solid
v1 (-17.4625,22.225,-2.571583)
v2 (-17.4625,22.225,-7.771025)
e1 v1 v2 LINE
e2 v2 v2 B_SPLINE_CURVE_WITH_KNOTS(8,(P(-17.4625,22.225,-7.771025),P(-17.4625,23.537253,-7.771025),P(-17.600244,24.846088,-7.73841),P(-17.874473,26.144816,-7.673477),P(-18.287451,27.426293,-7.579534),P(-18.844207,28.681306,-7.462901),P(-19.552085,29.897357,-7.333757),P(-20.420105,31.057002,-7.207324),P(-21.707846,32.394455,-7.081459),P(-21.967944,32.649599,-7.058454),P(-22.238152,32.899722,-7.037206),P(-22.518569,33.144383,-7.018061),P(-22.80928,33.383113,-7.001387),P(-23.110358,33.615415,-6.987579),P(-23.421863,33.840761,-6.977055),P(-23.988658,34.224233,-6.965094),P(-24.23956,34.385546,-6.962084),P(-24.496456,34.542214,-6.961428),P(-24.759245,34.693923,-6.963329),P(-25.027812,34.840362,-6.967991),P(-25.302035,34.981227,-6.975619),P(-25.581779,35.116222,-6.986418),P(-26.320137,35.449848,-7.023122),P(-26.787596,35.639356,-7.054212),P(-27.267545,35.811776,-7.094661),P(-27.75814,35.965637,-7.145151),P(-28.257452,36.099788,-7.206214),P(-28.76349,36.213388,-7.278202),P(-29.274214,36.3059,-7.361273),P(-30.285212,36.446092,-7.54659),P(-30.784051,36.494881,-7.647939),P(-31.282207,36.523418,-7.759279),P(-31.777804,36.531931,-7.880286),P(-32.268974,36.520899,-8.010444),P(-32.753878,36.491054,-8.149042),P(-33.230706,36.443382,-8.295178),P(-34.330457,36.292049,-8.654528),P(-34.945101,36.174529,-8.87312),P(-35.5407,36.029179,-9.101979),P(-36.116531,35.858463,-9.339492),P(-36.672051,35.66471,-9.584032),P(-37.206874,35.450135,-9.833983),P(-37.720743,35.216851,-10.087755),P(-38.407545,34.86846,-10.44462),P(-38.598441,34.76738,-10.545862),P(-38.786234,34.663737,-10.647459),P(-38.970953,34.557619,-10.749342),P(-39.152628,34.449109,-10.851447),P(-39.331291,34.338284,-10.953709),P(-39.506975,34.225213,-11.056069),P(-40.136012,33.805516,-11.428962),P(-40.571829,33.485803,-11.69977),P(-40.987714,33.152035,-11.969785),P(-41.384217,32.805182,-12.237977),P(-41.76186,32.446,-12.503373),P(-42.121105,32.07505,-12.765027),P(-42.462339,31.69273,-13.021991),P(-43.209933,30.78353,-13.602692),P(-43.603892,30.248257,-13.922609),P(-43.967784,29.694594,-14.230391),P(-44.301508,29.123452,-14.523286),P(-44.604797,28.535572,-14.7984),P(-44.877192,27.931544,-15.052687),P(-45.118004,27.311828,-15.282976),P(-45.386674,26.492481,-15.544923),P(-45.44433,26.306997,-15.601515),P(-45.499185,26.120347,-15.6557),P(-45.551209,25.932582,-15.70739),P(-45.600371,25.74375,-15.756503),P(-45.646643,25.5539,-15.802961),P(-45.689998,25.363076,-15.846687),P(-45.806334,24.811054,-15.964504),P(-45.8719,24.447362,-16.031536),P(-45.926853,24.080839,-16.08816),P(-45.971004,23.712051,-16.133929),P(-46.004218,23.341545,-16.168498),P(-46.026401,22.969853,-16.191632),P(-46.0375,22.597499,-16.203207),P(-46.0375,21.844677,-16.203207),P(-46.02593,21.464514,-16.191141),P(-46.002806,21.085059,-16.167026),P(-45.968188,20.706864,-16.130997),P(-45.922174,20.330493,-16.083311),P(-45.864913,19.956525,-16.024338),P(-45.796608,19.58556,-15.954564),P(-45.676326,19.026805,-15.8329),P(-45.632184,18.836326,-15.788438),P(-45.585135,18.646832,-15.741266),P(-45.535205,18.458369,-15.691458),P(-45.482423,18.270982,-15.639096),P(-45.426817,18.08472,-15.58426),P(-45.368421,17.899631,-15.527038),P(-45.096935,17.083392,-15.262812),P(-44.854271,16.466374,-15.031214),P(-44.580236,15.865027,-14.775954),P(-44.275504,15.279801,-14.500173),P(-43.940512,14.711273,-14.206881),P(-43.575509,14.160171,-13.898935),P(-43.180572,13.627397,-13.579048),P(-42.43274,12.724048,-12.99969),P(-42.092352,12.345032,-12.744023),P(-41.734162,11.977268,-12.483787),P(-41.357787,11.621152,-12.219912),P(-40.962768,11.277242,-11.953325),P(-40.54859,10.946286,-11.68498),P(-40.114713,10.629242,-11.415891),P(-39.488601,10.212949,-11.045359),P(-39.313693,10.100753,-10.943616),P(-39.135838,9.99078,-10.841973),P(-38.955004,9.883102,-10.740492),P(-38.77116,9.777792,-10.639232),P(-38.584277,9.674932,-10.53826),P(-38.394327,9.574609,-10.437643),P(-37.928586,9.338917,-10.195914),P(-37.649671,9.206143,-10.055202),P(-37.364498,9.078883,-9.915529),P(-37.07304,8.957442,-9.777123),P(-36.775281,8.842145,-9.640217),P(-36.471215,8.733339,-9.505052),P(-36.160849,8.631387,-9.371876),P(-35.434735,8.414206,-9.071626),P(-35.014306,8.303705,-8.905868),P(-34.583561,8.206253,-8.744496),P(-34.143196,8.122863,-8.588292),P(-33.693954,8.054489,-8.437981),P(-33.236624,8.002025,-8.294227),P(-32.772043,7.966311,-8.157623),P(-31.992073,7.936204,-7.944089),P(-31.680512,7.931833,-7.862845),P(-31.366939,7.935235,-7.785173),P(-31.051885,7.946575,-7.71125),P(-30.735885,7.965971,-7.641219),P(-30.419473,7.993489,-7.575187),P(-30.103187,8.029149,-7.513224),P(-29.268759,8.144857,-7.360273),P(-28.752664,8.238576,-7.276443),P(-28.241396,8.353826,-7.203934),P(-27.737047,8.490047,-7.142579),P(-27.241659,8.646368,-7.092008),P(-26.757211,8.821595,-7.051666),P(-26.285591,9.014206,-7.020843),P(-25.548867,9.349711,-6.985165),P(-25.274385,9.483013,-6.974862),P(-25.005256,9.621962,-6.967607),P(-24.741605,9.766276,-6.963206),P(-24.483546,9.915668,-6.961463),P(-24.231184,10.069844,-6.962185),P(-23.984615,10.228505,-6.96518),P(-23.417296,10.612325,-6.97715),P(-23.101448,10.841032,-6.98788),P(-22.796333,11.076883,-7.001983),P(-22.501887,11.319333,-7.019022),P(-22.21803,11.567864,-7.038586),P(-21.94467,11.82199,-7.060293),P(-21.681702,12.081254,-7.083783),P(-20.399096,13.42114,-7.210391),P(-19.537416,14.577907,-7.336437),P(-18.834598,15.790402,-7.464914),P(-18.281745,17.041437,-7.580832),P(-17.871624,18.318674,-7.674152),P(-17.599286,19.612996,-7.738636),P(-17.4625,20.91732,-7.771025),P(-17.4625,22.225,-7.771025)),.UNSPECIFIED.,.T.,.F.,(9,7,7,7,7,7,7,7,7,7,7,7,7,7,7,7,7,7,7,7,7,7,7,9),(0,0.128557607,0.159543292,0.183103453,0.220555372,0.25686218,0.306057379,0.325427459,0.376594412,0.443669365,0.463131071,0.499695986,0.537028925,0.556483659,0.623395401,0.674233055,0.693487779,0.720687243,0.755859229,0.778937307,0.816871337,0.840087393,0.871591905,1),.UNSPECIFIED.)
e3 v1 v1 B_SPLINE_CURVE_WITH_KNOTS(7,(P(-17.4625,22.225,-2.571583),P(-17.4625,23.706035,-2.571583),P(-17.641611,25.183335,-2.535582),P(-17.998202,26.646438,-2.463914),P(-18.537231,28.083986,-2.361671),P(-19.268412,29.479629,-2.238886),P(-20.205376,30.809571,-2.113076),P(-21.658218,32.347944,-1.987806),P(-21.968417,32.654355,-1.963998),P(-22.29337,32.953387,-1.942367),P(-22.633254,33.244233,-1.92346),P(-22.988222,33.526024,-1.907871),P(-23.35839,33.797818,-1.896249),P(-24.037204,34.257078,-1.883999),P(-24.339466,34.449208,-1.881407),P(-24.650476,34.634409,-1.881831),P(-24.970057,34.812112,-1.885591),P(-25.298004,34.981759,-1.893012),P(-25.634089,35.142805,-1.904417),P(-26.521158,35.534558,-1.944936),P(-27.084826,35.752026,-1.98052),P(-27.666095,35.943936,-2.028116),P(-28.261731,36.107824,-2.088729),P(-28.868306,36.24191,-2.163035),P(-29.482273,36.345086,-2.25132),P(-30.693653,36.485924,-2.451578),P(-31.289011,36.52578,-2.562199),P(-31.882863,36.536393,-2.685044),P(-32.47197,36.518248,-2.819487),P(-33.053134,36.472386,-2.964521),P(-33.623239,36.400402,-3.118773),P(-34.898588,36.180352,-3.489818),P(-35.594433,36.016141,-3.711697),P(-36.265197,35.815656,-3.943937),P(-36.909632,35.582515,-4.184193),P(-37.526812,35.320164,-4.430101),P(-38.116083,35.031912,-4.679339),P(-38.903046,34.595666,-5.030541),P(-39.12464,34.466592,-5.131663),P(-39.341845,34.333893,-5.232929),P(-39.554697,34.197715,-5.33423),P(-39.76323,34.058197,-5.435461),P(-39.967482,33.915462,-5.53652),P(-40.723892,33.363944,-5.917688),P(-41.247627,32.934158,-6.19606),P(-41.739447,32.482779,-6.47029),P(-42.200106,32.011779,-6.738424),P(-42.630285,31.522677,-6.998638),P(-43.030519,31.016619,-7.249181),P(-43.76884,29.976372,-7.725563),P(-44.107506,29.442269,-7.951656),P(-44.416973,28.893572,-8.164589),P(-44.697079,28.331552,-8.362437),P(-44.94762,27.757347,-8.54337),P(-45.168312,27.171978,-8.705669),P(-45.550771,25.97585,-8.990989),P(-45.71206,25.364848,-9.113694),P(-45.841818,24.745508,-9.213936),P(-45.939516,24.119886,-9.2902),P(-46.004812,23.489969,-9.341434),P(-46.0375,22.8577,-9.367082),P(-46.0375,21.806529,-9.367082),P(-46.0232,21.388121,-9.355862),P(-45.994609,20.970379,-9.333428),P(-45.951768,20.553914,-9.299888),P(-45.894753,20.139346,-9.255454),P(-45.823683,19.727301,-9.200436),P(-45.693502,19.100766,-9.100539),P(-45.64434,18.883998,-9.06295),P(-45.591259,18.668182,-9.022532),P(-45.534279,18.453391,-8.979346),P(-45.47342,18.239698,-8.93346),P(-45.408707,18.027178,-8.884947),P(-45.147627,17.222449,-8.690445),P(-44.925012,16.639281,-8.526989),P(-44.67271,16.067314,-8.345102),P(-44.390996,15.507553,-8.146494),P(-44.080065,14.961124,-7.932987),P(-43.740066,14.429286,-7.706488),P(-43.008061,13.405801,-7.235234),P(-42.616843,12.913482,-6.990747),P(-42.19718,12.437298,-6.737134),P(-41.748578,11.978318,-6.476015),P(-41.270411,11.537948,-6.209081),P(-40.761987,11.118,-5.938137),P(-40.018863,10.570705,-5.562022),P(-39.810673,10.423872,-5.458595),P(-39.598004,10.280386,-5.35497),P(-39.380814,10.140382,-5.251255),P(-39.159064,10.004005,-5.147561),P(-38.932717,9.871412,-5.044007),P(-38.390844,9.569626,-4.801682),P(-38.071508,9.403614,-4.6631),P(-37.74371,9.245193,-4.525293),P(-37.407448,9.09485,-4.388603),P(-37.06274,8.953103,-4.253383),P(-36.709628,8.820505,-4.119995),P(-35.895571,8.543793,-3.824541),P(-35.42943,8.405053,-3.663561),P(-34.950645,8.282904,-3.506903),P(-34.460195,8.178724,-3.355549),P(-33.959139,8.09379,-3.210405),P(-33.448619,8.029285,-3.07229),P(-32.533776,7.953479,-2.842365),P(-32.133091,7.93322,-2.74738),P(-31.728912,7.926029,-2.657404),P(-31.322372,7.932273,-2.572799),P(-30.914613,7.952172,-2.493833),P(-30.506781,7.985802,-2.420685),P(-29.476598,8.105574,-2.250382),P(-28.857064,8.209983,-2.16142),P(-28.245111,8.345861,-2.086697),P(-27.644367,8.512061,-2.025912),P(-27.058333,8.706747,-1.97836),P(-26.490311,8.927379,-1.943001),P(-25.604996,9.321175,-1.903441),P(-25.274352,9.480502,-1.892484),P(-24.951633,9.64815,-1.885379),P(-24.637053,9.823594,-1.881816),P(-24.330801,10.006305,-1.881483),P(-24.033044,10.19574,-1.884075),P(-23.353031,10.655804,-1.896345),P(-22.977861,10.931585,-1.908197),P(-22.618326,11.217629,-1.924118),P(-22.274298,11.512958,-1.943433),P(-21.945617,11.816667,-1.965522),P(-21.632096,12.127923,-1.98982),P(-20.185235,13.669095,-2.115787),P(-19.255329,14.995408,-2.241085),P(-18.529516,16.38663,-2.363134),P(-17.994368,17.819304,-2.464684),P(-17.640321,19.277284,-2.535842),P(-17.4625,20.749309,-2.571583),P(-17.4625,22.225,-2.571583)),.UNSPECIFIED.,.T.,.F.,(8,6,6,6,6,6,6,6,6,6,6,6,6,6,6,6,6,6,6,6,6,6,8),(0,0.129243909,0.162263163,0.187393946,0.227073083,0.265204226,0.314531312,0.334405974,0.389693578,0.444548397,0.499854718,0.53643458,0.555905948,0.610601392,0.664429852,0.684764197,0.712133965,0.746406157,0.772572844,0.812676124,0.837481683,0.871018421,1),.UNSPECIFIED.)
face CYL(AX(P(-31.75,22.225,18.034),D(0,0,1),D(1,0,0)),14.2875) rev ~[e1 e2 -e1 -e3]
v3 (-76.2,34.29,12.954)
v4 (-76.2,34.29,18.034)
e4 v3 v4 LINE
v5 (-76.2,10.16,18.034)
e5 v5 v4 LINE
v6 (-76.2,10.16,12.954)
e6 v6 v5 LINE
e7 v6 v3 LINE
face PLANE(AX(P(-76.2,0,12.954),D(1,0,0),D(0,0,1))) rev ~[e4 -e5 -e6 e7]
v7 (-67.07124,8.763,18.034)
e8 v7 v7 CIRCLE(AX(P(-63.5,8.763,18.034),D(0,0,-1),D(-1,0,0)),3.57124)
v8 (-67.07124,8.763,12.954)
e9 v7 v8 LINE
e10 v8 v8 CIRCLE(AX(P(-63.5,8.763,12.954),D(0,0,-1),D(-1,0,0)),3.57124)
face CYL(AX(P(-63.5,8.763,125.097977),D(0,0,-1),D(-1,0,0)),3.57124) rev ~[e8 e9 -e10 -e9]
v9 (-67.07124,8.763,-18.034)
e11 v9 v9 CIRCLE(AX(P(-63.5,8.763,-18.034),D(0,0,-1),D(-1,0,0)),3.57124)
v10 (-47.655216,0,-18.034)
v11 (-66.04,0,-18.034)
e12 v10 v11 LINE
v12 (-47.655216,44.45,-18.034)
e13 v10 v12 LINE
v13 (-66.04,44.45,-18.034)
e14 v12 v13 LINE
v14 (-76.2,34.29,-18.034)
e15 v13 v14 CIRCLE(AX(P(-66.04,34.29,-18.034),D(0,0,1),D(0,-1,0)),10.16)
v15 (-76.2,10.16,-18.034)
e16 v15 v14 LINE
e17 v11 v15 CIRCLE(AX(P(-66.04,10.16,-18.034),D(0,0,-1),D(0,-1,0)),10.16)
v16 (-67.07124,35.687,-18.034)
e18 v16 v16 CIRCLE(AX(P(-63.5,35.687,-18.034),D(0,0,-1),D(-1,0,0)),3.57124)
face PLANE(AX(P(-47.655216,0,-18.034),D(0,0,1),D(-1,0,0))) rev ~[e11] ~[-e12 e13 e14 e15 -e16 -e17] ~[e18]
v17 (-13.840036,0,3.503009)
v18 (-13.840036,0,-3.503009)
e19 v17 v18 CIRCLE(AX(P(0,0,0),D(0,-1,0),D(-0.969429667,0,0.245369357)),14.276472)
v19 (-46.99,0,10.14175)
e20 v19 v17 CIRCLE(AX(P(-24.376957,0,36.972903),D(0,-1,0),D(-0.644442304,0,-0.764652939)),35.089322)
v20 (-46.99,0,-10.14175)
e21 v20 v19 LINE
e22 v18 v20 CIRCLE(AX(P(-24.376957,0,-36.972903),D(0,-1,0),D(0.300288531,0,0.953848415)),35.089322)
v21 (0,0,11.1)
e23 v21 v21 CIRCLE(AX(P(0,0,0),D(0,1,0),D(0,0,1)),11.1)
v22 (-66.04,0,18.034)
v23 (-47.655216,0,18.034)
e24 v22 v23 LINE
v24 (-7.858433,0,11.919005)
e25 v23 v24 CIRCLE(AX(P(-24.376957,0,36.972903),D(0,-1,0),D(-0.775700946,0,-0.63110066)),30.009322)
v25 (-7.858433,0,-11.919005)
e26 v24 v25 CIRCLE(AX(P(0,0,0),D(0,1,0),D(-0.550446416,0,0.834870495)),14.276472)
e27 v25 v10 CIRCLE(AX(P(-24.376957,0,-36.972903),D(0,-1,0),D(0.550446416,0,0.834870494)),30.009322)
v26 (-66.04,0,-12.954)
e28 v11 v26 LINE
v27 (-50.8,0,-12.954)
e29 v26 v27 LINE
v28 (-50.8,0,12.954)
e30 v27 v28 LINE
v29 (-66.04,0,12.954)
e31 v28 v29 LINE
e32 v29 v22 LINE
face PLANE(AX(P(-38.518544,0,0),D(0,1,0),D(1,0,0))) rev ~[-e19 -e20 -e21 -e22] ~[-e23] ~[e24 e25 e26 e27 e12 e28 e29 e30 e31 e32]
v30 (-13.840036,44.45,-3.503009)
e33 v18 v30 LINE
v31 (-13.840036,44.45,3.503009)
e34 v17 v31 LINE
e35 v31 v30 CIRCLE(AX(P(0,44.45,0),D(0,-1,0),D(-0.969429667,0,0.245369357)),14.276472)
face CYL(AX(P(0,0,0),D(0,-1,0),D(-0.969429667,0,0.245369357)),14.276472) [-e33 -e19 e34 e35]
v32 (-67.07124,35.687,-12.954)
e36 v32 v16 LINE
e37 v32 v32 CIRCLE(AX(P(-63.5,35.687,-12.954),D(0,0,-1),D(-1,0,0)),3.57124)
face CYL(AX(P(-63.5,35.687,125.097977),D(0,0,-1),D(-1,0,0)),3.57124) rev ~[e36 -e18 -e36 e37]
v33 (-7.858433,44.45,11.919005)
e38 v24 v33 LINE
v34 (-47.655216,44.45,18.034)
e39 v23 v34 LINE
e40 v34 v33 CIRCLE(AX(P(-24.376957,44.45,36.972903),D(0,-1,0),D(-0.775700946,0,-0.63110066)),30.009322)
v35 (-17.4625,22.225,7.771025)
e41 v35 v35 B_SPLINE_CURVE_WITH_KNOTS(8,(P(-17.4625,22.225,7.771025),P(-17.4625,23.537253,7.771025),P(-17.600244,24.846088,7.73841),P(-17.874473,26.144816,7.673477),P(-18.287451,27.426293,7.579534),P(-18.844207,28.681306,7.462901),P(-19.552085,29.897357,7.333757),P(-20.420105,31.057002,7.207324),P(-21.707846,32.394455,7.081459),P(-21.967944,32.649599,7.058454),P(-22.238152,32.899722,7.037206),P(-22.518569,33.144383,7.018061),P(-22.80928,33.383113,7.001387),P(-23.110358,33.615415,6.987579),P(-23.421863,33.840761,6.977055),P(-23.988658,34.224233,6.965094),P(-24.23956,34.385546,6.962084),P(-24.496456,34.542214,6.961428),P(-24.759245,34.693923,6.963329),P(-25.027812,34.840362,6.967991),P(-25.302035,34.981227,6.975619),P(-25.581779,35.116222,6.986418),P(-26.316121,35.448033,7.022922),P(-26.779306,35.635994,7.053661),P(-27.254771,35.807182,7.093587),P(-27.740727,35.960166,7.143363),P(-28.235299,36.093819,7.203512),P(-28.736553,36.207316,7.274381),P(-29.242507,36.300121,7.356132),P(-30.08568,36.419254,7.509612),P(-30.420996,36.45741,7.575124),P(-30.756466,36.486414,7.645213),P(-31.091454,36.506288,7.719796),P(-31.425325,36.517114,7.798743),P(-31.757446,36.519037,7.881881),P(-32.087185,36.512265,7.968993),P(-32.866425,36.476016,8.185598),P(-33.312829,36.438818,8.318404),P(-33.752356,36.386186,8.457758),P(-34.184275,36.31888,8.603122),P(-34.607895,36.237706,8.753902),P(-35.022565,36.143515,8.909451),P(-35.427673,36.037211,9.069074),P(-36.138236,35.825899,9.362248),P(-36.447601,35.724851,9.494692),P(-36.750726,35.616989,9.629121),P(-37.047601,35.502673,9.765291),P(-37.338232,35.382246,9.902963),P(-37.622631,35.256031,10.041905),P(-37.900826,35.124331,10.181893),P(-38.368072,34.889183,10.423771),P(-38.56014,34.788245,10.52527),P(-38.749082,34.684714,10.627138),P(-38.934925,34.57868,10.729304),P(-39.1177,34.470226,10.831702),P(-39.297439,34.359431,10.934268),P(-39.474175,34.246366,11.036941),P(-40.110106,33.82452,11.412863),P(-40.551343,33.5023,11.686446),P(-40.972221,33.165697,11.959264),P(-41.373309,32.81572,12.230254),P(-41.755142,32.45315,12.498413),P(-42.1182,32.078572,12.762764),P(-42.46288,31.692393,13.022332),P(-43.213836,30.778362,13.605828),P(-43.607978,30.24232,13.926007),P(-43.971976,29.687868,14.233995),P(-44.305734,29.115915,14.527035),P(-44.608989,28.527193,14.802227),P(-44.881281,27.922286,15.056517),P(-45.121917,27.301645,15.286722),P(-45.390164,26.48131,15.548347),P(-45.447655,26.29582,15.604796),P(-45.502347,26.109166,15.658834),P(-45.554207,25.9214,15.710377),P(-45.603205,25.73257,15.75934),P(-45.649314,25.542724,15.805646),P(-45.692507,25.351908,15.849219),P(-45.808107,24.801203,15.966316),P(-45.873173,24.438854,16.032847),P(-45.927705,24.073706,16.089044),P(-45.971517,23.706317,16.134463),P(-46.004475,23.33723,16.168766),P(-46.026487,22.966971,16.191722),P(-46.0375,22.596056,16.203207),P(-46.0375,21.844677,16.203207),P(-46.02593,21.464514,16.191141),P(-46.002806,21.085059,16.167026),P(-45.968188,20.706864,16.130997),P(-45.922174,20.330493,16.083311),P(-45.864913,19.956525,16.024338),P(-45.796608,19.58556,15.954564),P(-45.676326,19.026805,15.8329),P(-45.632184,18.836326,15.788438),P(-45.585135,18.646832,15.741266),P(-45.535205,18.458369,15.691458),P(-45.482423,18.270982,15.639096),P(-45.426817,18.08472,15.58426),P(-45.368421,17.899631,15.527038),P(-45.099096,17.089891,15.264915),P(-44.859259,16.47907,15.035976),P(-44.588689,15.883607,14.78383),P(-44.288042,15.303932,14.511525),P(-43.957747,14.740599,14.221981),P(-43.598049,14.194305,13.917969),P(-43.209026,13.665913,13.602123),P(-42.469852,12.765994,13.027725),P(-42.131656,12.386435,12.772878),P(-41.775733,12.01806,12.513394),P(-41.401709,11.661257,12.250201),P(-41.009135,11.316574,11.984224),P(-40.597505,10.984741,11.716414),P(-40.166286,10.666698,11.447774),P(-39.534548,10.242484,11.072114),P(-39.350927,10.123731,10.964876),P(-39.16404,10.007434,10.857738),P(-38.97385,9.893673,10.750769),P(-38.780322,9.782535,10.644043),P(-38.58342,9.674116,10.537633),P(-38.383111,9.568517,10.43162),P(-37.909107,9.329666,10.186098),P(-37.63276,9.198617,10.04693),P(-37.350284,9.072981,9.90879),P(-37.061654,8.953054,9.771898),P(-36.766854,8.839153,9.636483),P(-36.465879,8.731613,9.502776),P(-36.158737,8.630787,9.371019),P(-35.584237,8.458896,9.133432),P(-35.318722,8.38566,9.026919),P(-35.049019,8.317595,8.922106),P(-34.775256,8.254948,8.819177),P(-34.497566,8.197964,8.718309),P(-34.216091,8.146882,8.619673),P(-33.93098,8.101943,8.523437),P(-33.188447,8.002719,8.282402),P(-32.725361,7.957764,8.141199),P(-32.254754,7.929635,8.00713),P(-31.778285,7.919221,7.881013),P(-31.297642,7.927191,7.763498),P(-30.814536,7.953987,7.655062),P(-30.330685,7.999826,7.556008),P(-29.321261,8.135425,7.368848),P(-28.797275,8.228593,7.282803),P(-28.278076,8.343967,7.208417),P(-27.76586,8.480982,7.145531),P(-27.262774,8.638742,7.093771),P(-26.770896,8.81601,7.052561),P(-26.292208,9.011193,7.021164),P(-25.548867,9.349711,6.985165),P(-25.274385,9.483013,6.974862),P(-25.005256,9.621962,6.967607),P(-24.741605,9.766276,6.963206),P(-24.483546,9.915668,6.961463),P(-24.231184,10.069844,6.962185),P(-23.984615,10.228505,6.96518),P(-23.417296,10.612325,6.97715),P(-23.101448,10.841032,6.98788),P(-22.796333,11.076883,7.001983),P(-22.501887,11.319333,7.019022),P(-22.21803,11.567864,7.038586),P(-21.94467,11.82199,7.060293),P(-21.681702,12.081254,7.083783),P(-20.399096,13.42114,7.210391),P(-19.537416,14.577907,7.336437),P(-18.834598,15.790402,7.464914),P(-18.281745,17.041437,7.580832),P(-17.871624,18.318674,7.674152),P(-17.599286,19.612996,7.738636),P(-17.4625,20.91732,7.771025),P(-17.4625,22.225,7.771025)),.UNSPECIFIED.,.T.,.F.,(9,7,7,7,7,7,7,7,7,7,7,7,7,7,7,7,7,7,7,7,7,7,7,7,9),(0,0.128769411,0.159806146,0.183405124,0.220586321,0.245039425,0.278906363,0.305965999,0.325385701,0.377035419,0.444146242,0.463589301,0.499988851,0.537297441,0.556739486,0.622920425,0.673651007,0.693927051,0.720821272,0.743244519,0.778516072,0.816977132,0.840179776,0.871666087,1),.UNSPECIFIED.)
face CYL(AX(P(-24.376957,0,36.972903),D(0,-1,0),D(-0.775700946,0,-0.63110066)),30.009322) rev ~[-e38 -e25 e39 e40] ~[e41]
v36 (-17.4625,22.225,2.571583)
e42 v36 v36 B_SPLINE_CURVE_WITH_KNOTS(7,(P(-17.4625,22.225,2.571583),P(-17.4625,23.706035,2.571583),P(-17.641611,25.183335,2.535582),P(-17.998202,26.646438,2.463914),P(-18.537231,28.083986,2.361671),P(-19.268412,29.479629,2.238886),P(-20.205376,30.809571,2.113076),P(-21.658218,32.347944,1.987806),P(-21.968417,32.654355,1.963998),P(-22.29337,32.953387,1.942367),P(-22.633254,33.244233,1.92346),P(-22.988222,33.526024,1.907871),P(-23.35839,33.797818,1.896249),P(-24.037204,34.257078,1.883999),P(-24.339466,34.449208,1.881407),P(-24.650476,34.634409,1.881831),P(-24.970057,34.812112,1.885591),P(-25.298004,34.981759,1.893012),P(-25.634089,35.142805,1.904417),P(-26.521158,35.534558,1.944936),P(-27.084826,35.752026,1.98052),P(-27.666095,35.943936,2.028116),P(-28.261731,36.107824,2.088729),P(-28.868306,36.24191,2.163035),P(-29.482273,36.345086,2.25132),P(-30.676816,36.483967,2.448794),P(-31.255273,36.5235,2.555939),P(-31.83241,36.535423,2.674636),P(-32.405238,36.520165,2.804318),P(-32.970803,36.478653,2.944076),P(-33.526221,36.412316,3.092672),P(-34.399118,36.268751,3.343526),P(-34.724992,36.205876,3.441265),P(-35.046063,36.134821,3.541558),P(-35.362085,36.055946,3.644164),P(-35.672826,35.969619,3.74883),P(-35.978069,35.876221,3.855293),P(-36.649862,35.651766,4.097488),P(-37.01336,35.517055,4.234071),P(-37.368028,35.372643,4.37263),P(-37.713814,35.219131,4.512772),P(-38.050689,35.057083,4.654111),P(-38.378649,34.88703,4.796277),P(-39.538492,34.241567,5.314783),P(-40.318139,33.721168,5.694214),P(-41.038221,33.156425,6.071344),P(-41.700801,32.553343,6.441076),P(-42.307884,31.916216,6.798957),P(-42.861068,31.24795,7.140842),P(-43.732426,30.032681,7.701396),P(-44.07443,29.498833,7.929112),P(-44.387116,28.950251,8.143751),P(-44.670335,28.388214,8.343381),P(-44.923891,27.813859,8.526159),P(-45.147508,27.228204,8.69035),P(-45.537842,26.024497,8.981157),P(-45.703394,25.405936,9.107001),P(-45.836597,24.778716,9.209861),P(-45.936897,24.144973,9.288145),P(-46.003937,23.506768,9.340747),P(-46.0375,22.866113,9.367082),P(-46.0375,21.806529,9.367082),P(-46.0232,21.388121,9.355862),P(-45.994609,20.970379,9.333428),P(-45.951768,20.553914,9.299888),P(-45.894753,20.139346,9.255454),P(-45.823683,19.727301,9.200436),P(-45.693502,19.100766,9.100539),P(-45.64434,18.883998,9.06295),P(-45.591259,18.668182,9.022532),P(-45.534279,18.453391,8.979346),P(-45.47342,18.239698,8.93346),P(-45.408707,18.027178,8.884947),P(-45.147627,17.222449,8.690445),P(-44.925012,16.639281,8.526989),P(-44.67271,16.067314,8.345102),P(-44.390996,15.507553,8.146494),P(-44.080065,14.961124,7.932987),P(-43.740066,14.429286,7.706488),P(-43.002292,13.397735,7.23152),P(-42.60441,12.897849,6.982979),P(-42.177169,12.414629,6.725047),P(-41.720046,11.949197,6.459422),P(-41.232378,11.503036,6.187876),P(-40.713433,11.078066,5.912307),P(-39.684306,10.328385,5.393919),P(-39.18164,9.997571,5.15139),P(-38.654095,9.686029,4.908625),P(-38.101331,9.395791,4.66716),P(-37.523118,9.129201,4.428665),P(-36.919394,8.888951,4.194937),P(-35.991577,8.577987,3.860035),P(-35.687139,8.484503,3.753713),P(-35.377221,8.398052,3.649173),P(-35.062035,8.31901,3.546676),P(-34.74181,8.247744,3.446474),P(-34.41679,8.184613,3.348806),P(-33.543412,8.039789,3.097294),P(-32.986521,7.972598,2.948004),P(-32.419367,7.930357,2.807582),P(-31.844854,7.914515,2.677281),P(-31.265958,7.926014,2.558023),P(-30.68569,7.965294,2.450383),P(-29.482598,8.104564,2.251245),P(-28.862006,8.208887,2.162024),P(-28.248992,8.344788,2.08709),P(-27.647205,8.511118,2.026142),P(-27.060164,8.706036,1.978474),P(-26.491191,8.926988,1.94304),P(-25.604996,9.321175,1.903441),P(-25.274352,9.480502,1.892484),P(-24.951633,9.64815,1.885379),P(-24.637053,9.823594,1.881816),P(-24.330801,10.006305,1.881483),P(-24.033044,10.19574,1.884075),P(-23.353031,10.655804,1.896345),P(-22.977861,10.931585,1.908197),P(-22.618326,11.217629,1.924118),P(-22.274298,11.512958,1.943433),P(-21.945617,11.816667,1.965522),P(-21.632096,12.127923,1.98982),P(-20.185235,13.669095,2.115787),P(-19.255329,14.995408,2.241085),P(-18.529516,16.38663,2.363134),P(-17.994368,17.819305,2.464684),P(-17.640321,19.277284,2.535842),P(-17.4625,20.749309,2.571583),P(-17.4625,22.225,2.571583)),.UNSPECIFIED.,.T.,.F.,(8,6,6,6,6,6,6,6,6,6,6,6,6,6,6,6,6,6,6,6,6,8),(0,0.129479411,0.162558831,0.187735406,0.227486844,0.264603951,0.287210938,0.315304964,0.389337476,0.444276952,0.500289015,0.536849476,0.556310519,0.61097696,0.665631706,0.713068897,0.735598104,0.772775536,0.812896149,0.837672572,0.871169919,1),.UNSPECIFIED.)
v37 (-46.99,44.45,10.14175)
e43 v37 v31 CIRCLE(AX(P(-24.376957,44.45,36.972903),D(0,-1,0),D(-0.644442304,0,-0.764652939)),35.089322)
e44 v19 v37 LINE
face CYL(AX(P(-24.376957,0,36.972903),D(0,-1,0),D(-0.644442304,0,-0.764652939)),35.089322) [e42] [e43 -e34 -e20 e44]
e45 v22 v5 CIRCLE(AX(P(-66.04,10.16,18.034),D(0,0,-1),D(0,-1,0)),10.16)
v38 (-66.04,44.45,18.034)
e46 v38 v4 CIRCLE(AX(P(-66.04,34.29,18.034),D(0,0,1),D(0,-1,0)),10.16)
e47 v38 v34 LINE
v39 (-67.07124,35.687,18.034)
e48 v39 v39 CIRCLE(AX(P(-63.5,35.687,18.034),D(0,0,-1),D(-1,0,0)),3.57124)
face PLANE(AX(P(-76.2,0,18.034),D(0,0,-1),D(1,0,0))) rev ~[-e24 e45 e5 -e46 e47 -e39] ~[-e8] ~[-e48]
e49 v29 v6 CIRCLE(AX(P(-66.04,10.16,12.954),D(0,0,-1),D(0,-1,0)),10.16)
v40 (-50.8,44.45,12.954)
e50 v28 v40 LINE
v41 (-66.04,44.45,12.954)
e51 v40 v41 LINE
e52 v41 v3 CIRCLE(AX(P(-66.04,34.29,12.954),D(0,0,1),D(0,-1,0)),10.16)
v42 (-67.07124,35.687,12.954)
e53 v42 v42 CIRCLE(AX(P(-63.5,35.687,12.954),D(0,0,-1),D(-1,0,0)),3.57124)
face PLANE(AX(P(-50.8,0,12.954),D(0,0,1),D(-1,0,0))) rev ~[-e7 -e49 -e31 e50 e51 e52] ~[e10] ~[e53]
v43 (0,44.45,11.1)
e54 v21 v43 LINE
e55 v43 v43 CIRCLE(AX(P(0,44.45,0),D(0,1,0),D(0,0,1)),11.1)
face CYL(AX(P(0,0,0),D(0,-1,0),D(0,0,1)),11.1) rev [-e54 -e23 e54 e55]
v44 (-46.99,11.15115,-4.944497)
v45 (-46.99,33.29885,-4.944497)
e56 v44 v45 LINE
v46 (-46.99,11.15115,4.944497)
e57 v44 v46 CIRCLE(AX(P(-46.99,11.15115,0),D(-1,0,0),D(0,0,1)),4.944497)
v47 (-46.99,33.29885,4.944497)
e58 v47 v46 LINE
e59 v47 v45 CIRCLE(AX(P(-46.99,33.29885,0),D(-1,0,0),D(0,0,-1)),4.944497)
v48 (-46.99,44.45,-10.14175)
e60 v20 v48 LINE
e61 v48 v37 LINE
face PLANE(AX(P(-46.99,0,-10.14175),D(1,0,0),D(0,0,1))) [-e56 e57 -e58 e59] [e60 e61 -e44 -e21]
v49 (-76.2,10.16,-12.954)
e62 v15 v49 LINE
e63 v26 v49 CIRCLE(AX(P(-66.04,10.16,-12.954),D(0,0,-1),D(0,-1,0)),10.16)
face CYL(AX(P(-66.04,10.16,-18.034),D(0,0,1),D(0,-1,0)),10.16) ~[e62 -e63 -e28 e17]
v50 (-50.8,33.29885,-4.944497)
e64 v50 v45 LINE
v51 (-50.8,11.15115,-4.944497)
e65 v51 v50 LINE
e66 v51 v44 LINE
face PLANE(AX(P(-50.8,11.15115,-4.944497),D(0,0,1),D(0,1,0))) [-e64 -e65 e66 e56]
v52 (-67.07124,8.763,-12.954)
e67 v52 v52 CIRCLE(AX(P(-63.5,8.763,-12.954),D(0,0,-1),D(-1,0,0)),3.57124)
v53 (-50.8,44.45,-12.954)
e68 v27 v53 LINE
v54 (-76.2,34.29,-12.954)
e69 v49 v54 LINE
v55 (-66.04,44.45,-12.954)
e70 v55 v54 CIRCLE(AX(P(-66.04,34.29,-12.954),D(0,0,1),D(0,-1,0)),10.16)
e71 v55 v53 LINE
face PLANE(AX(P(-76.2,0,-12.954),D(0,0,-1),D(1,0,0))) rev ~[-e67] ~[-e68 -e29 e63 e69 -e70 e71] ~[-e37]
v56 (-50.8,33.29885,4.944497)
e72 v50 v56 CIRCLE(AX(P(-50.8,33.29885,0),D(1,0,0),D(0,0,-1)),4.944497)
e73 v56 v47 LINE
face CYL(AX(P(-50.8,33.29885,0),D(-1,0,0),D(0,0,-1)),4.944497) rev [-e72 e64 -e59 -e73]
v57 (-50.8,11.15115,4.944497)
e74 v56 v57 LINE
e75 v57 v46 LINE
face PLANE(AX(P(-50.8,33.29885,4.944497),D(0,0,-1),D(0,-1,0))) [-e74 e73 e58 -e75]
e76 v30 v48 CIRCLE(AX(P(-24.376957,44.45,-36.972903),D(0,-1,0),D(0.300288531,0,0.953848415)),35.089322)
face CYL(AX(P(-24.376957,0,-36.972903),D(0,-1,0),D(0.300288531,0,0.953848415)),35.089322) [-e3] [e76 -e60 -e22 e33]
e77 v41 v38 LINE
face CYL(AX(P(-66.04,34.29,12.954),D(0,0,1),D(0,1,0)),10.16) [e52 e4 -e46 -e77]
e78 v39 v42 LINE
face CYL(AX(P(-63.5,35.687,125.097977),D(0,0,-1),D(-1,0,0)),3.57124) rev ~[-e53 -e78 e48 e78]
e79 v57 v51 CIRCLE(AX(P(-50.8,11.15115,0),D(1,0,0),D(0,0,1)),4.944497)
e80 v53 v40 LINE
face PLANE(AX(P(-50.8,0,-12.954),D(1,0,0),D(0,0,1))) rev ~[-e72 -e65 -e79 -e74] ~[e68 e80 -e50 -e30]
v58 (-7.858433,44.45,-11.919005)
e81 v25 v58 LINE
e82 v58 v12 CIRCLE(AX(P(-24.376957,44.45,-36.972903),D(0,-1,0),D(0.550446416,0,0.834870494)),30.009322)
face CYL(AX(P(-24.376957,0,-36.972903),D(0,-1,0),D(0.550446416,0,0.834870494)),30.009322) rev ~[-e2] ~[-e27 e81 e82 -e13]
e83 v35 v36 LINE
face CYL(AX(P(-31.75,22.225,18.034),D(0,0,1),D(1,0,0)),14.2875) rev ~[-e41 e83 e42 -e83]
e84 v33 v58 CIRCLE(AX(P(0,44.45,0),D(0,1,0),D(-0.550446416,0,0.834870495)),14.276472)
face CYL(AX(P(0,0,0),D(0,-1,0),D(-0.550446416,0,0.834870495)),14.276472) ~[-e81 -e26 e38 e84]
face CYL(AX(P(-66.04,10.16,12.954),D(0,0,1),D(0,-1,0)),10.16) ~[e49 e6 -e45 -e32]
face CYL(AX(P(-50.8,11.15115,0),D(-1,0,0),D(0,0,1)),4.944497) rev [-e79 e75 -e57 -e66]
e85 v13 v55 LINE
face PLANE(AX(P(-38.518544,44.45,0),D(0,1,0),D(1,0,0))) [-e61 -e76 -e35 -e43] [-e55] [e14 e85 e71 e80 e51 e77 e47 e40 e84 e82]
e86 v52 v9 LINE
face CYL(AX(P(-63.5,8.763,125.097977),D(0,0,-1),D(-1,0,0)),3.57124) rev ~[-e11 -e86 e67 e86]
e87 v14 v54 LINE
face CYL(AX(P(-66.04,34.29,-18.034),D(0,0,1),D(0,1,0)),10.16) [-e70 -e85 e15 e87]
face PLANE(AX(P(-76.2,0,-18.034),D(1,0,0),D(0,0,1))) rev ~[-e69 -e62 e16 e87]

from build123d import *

# Parameters (mm, degrees)
SKETCH1_R               = 11.1
BOSS_EXTRUDE1_DEPTH     = 44.45
CUT_EXTRUDE1_REACH      = 82.845
SKETCH3_R               = 14.2875
CUT_EXTRUDE2_DEPTH      = 50.8
F_1_4_CLEARANCE_HOLE1_D = 7.14248
FILLET5_R               = 10.16


with BuildPart() as part:
    # Sketch1 → Boss-Extrude1 (new body)
    with BuildSketch(Plane(origin=(0, 0, 0), x_dir=(1, 0, 0), z_dir=(0, 1, 0))):
        with BuildLine():
            Line((-76.2, 12.954), (-50.8, 12.954))
            Line((-50.8, 12.954), (-50.8, -12.954))
            Line((-50.8, -12.954), (-76.2, -12.954))
            Line((-76.2, -12.954), (-76.2, -18.034))
            Line((-76.2, -18.034), (-50.8, -18.034))
            Line((-50.8, -18.034), (-47.655215915, -18.034))
            ThreePointArc((-47.655215915, -18.034), (-28.934565222, -7.31168908), (-7.858432995, -11.919005456))
            ThreePointArc((-7.858432995, -11.919005456), (14.27647226, 0), (-7.858432995, 11.919005456))
            ThreePointArc((-7.858432995, 11.919005456), (-28.934565222, 7.31168908), (-47.655215915, 18.034))
            Line((-47.655215915, 18.034), (-50.8, 18.034))
            Line((-50.8, 18.034), (-50.907646935, 18.034))
            Line((-50.907646935, 18.034), (-76.2, 18.034))
            Line((-76.2, 18.034), (-76.2, 12.954))
        make_face()
        with BuildLine():
            Line((-46.99, -10.141749752), (-46.99, 10.141749752))
            ThreePointArc((-46.99, 10.141749752), (-31.26726895, 2.566739092), (-13.840035745, 3.503008817))
            ThreePointArc((-13.840035745, 3.503008817), (-14.27647226, 0), (-13.840035745, -3.503008817))
            ThreePointArc((-13.840035745, -3.503008817), (-31.26726895, -2.566739092), (-46.99, -10.141749752))
        make_face(mode=Mode.SUBTRACT)
        Circle(SKETCH1_R, mode=Mode.SUBTRACT)
    extrude(amount=BOSS_EXTRUDE1_DEPTH)

    # Sketch2 → Cut-Extrude1 (cut, up to next)
    with BuildSketch(Plane.ZY.offset(50.8), mode=Mode.PRIVATE) as cut_extrude1_sk1:
        with BuildLine():
            Line((4.944497397, 33.298849711), (4.944497397, 11.151150289))
            ThreePointArc((4.944497397, 11.151150289), (0, 6.206652892), (-4.944497397, 11.151150289))
            Line((-4.944497397, 11.151150289), (-4.944497397, 33.298849711))
            ThreePointArc((-4.944497397, 33.298849711), (0, 38.243347108), (4.944497397, 33.298849711))
        make_face()
    cut_extrude1_tool1 = extrude(cut_extrude1_sk1.sketch, amount=-CUT_EXTRUDE1_REACH, mode=Mode.PRIVATE) & part.part
    add(cut_extrude1_tool1.solids().sort_by_distance((-50.8, 22.225, 0))[0], mode=Mode.SUBTRACT)

    # Sketch3 → Cut-Extrude2 (cut)
    with BuildSketch(Plane.XY.offset(18.034)):
        with Locations((-31.75, 22.225)):
            Circle(SKETCH3_R)
    extrude(amount=-CUT_EXTRUDE2_DEPTH, mode=Mode.SUBTRACT)

    # 1/4 Clearance Hole1 (through all)
    with Locations(Plane.XY.offset(18.034)):
        with Locations((-63.5, 35.687), (-63.5, 8.763)):
            Hole(F_1_4_CLEARANCE_HOLE1_D / 2)

    # Fillet5
    fillet5_edges = [part.edges().sort_by_distance(p)[0] for p in [
        (-76.2, 0, -15.494),
        (-76.2, 0, 15.494),
        (-76.2, 44.45, -15.494),
        (-76.2, 44.45, 15.494),
    ]]
    fillet(fillet5_edges, radius=FILLET5_R)


solid = part.part
